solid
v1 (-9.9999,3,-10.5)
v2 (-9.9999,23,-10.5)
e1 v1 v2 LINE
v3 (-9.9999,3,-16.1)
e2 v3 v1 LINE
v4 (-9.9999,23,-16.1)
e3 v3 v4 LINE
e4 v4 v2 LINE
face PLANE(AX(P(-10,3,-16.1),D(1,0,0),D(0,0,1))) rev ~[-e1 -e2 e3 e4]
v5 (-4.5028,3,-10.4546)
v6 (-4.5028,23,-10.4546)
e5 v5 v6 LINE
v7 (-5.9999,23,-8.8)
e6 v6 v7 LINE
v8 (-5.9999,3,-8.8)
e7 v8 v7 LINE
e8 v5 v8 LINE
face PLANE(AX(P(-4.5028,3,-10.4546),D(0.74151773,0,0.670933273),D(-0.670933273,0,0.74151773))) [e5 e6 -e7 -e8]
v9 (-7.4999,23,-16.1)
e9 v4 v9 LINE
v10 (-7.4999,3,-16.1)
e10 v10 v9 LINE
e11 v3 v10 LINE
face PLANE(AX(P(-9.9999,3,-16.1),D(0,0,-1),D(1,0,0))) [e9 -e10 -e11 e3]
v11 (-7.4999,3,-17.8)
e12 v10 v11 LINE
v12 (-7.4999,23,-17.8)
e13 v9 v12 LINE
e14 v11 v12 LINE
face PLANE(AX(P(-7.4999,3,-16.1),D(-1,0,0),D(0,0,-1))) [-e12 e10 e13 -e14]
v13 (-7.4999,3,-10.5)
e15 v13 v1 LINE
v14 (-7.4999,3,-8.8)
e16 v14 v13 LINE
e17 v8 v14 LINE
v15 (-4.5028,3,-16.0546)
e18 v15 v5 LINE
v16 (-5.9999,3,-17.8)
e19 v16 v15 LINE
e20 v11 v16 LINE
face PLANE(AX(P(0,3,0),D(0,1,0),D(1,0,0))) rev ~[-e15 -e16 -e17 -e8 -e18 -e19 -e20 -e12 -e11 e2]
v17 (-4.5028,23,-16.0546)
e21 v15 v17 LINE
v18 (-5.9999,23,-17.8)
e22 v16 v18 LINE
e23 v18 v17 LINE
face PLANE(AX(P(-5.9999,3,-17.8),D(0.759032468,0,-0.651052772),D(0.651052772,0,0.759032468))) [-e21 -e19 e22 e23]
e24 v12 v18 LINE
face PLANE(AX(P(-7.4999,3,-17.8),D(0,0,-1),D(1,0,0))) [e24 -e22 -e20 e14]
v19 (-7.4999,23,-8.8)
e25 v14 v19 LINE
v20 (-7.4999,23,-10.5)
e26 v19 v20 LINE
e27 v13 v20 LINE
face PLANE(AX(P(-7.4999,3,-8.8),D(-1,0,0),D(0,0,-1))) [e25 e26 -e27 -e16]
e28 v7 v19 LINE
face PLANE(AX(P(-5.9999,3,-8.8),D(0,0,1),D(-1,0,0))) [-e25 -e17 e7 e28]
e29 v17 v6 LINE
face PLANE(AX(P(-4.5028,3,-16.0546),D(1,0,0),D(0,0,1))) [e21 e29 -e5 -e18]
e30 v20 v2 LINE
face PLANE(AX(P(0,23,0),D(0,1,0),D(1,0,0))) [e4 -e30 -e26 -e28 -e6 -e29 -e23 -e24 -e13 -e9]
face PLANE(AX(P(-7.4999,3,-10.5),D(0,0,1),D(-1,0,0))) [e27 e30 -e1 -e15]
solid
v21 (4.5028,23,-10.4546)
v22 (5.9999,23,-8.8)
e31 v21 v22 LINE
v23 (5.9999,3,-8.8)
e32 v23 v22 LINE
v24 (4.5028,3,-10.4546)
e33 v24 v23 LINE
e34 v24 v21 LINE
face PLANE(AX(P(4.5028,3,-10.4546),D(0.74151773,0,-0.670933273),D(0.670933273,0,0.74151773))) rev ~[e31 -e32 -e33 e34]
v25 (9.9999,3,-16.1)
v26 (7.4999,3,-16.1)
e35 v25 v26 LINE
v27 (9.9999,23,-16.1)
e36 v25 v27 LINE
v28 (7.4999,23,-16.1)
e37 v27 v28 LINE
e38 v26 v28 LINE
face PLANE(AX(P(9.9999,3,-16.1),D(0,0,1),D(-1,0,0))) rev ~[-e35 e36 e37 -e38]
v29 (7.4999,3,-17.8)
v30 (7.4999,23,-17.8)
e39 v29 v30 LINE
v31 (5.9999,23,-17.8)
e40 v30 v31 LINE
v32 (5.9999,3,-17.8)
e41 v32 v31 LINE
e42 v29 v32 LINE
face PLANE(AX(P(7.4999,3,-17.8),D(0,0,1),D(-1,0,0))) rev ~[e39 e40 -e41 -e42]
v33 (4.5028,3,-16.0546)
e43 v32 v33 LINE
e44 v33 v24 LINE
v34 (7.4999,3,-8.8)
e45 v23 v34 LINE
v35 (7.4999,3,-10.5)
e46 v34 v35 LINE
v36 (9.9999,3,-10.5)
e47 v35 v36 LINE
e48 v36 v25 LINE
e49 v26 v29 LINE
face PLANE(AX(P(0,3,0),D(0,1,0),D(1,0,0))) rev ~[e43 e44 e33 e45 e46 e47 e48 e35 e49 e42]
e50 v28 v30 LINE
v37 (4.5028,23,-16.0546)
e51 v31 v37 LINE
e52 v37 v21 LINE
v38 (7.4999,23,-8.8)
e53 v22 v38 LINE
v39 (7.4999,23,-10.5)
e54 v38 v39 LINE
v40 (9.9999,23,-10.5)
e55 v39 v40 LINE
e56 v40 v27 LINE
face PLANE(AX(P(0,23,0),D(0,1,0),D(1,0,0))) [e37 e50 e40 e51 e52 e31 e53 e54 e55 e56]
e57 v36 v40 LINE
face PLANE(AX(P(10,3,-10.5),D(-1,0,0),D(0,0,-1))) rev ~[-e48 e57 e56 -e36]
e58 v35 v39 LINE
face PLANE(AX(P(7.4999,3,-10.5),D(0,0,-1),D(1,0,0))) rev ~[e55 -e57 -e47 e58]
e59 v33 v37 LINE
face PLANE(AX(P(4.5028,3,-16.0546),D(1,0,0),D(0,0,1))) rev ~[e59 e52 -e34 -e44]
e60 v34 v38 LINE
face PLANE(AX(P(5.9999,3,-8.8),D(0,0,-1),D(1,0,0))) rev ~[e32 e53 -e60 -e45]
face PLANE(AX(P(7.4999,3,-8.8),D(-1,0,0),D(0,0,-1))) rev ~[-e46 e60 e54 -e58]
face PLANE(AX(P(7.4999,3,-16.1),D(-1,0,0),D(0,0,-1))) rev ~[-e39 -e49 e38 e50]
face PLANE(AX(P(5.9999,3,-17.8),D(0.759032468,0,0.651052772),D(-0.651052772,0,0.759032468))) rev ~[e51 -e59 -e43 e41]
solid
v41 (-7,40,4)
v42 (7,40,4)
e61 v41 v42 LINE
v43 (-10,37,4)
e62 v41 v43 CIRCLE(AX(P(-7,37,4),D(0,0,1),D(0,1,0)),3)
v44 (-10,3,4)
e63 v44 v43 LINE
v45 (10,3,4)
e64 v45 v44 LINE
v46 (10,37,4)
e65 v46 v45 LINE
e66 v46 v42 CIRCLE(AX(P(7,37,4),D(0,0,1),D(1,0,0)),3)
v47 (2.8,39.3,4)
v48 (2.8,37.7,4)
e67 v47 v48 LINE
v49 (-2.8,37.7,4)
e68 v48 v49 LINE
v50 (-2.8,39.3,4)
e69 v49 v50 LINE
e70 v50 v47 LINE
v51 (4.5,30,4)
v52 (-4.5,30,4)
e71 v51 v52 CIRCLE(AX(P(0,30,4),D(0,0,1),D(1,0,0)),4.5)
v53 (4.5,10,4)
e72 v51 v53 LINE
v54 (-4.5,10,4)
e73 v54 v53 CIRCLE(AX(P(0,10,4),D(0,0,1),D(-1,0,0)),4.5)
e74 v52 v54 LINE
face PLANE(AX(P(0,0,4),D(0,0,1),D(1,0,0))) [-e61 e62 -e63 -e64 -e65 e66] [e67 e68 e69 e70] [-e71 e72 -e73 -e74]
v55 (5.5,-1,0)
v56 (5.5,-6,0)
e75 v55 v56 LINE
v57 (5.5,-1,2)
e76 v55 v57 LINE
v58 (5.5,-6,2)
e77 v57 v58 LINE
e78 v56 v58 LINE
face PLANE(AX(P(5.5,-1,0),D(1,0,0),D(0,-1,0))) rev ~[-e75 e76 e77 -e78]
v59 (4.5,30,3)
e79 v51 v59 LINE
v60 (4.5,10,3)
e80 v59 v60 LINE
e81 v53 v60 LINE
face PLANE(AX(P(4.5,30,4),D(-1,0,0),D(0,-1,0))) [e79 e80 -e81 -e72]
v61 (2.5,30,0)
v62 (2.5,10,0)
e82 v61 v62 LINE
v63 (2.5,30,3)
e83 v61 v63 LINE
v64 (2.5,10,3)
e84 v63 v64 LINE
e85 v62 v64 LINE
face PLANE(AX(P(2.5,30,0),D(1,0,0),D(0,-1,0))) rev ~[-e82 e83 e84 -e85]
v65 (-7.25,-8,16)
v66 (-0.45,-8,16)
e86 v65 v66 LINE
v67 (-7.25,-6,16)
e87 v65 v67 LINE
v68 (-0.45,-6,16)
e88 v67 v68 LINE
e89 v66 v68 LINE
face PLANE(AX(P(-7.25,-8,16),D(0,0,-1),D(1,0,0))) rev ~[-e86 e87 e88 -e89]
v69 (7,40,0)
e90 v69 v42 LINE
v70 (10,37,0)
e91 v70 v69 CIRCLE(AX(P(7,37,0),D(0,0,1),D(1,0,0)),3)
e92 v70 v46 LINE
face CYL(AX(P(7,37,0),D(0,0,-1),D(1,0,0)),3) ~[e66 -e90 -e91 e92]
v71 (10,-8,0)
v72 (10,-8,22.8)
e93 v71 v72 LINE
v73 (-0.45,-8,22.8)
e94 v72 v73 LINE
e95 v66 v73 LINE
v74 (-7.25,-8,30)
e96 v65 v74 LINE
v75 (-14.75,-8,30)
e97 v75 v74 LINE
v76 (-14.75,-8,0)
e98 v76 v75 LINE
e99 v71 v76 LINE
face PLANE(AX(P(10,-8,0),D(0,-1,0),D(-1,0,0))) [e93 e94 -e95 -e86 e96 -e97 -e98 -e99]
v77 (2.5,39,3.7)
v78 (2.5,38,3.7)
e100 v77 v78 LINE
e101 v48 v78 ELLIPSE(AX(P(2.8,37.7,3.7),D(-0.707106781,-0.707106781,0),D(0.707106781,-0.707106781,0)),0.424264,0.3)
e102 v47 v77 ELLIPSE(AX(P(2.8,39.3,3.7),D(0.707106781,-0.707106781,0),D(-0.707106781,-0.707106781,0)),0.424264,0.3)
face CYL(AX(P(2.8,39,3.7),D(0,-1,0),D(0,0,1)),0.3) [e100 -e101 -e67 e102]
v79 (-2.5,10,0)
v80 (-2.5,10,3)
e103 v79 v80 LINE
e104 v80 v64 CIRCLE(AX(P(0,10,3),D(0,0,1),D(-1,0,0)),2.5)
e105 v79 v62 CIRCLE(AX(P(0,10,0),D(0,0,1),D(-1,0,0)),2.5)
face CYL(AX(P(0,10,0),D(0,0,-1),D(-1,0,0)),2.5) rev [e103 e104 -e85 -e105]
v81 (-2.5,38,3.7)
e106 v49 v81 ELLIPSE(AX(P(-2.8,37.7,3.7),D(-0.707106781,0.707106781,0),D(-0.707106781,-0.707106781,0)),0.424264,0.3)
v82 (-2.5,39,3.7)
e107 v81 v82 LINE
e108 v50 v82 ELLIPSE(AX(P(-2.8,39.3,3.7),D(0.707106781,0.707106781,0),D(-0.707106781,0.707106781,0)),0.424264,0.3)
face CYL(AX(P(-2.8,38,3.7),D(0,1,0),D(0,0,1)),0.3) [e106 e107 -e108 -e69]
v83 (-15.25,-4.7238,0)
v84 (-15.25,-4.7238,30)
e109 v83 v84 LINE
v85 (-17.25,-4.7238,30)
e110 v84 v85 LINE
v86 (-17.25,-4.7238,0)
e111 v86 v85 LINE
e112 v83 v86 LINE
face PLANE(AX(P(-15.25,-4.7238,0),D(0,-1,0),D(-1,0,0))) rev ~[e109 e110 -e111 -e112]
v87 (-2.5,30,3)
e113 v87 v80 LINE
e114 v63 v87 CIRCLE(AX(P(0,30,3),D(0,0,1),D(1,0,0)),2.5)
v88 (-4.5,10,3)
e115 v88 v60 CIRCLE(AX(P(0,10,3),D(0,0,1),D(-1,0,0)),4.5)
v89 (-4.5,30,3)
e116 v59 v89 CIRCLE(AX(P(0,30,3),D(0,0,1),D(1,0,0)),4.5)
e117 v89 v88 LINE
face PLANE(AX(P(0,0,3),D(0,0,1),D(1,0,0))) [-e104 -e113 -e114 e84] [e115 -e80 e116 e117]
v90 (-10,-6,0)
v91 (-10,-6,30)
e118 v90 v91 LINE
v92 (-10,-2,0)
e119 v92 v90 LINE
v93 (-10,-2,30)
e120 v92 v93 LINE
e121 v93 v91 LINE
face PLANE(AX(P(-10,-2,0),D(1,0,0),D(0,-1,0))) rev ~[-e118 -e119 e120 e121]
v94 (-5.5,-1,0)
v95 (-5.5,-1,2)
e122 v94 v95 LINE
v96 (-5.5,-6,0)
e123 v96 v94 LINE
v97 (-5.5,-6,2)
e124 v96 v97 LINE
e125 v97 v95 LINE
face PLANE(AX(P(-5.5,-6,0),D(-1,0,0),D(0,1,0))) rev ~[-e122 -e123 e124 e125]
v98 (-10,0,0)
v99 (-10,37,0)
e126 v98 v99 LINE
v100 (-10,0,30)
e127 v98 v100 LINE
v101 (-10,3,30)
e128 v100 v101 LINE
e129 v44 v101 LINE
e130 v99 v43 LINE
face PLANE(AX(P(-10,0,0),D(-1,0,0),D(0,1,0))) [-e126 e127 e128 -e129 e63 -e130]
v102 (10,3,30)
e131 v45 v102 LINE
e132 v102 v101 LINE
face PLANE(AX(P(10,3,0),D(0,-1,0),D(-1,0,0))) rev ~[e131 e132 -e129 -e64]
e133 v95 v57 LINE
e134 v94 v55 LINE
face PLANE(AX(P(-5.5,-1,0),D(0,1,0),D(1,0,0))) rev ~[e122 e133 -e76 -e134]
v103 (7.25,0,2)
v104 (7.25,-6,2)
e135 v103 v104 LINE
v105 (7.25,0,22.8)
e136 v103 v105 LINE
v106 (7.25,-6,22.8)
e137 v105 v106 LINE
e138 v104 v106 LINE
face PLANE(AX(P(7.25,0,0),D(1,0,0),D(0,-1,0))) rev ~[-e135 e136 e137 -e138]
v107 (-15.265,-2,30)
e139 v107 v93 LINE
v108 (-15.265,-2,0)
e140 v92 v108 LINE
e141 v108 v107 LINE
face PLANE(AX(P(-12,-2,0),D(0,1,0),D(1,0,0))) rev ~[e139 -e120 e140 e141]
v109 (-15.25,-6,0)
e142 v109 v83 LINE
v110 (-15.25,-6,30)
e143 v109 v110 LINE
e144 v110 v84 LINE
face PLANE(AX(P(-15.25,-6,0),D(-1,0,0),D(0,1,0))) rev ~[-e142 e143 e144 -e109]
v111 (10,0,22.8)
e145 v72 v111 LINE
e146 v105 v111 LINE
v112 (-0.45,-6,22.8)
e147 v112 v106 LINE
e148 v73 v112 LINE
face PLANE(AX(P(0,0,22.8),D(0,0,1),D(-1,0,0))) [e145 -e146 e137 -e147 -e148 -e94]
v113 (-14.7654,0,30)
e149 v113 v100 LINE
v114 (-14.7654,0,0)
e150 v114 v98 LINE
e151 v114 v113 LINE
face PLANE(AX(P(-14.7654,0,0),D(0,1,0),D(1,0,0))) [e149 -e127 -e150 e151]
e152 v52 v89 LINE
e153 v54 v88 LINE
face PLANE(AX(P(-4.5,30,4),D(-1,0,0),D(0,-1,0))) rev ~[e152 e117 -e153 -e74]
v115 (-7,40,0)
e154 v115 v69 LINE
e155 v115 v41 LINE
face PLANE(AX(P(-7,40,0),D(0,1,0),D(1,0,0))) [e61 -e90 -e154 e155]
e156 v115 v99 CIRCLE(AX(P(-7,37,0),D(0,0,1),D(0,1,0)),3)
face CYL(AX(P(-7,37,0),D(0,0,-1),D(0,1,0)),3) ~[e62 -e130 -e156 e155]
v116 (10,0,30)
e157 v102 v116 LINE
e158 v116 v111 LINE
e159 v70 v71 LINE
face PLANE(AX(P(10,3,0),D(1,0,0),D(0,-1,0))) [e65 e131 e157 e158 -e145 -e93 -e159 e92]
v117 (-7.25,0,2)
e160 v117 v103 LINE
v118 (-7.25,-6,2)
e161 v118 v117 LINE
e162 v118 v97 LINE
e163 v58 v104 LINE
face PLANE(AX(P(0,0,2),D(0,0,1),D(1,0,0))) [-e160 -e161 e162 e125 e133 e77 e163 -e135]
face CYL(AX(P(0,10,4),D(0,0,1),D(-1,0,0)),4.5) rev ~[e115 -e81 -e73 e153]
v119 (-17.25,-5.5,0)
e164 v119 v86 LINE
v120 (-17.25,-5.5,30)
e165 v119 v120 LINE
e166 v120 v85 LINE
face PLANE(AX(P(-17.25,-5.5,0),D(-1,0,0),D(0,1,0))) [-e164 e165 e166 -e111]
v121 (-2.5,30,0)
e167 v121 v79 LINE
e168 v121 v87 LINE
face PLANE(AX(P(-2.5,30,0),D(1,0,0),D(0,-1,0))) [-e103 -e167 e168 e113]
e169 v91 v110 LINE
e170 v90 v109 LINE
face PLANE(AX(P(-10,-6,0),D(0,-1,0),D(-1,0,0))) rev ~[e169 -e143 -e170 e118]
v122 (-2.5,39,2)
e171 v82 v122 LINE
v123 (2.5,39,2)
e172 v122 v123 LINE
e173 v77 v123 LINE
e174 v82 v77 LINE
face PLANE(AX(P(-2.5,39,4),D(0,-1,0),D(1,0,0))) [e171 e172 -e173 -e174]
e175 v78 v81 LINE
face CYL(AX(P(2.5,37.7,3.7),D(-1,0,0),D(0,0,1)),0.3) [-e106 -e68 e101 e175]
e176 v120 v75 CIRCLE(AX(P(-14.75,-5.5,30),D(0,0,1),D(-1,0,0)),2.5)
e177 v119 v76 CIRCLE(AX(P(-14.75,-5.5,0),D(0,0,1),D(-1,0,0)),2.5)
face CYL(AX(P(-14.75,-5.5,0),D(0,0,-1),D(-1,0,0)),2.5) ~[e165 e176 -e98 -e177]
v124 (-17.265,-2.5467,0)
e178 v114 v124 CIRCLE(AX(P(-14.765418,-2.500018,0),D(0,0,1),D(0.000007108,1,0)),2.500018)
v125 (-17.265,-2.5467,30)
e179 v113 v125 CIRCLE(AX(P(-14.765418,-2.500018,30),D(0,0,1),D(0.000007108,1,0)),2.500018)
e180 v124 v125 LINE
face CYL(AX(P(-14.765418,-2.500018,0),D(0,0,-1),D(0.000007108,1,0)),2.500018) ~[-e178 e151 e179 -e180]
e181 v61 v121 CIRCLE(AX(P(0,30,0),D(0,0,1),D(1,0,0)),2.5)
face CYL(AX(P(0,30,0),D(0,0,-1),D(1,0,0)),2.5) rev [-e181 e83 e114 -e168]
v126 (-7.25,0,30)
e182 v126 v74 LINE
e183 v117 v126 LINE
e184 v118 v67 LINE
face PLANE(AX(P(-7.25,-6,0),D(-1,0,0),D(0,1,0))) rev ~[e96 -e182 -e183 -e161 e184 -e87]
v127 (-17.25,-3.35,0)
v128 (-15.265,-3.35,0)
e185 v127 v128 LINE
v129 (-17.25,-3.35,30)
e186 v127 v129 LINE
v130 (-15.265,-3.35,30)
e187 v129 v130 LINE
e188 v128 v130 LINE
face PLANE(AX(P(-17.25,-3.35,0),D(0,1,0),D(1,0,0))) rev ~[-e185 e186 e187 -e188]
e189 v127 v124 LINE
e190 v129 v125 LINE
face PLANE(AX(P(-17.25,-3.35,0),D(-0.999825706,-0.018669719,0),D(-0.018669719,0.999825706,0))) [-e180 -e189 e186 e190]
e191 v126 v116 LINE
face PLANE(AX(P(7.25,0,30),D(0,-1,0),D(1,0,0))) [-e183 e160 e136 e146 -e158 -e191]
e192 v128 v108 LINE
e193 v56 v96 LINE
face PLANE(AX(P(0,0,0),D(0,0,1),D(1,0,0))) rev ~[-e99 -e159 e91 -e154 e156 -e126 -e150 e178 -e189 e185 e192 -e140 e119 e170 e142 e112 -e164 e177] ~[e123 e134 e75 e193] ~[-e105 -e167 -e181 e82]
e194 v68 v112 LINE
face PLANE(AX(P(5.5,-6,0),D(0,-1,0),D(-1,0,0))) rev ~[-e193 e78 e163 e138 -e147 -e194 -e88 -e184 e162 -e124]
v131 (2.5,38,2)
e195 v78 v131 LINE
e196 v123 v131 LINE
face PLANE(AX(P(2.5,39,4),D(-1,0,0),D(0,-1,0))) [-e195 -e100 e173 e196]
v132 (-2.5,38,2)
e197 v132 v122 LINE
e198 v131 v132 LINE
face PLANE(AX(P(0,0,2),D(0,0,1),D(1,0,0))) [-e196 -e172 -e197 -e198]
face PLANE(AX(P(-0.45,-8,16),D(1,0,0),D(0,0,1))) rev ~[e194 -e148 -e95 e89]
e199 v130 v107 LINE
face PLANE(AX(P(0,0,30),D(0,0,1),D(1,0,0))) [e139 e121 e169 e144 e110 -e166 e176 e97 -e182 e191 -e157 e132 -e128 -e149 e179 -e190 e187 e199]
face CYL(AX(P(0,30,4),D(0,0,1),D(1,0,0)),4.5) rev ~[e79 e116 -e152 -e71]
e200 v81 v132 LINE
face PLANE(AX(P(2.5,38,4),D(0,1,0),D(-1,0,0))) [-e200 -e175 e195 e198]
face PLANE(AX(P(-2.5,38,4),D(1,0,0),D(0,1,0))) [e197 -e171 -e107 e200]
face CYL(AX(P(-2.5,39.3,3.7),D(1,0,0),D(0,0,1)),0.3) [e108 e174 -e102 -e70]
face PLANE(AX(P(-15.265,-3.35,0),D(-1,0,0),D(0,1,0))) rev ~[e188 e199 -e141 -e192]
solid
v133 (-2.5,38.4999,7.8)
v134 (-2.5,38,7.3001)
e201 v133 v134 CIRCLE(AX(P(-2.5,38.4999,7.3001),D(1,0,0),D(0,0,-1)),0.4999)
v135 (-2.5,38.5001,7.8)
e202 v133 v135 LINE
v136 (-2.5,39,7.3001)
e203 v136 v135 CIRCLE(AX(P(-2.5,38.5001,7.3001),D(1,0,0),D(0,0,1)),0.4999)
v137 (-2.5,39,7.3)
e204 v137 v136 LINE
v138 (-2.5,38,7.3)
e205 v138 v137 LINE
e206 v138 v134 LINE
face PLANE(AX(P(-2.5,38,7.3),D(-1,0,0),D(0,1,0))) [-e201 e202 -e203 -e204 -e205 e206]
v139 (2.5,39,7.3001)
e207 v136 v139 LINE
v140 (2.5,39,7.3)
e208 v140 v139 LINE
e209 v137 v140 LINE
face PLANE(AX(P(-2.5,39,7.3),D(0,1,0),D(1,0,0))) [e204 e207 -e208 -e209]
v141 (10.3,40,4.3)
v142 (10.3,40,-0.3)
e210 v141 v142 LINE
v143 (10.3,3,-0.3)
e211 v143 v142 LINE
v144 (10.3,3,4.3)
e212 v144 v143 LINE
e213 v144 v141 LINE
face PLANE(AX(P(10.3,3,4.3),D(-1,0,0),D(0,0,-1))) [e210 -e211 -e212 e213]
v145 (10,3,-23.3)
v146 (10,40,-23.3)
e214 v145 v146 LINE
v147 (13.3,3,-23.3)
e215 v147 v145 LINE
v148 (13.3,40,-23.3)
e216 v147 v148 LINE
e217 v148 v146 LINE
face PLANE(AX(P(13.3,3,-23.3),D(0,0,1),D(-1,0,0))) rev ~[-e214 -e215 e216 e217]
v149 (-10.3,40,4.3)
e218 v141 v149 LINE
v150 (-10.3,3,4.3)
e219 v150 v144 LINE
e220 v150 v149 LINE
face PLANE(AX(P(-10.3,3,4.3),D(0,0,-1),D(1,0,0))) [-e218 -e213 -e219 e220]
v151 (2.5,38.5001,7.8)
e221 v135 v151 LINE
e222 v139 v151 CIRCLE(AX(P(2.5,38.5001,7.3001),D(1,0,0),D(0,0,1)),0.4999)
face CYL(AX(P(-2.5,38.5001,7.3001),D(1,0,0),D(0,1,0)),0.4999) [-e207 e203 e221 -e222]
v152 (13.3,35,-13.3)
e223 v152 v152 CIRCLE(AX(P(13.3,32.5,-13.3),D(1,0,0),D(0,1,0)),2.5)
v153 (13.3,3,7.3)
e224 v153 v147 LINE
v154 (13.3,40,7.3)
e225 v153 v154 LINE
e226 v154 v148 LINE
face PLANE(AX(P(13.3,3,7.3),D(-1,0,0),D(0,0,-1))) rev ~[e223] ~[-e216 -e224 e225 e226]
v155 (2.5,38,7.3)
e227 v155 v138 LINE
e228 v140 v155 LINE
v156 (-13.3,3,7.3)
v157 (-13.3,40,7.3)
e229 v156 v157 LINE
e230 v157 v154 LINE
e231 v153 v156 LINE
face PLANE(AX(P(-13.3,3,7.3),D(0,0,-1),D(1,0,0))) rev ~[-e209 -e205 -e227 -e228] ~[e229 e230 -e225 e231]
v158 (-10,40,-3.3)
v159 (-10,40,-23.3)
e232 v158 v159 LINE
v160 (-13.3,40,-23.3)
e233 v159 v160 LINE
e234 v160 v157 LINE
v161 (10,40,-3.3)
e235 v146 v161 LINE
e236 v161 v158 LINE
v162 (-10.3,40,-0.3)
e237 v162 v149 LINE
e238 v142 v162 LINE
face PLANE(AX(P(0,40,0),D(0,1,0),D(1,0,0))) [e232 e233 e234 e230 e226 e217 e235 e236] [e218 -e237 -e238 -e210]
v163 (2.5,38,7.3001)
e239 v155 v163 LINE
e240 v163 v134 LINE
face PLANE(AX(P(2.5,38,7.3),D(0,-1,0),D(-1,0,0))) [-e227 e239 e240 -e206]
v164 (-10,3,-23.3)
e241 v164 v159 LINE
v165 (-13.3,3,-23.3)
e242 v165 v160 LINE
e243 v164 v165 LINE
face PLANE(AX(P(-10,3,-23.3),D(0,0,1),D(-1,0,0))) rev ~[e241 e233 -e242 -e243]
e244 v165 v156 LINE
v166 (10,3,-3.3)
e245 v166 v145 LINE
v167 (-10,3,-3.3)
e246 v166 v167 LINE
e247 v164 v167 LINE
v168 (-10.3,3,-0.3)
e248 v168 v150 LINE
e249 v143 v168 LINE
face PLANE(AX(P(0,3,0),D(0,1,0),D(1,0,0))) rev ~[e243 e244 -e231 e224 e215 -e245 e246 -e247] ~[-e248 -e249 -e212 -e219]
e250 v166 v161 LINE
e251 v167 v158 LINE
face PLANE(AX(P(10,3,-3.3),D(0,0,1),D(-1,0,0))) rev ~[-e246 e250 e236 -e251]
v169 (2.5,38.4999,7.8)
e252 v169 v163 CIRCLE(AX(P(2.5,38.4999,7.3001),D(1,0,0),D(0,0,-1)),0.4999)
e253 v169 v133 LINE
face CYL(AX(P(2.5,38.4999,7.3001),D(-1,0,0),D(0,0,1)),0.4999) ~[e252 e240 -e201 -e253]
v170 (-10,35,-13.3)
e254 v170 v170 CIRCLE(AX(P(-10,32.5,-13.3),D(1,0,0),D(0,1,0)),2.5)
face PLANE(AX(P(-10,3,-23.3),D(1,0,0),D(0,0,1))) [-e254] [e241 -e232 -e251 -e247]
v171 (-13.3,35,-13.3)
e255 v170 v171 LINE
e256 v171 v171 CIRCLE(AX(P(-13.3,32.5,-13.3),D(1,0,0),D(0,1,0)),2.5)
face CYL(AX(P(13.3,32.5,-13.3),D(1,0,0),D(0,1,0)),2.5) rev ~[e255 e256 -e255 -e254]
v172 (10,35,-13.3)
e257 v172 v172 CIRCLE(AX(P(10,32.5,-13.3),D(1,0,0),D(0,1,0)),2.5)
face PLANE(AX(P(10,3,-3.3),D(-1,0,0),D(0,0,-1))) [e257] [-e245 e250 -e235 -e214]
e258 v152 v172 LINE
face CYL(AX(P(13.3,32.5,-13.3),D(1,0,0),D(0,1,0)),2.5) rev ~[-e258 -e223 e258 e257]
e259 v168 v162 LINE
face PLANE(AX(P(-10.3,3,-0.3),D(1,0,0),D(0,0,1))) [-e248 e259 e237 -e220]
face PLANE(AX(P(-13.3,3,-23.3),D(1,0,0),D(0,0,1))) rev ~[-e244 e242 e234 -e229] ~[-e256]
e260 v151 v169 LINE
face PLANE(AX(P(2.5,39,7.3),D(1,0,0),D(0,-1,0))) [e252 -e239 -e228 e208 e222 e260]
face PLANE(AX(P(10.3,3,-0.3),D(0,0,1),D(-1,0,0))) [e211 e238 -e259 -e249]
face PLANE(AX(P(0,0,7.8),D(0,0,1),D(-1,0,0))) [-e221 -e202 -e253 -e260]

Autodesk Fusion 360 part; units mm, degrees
sketch "Esquisse1" plane through (0, 0, 0) normal (0, 0, 1) x (1, 0, 0)
  line L0 (0, 80) -> (0, -6.3898) construction
  line L1 (-15, 30) -> (6, 30) construction
  line L2 (-7.25, 0) -> (7.25, 0)
  line L3 (7.25, 0) -> (7.25, -6)
  line L4 (-7.25, -6) -> (-7.25, 0)
  line L5 (-5.5, -1) -> (5.5, -1)
  line L6 (5.5, -1) -> (5.5, -6)
  line L7 (5.5, -6) -> (-5.5, -6)
  line L8 (-5.5, -6) -> (-5.5, -1)
  line L9 (5.5, -6) -> (7.25, -6)
  line L10 (7.25, -6) -> (-5.5, -6)
  line L11 (-7.25, -6) -> (-5.5, -6)
  line L12 (-10, 0) -> (-10, 37)
  line L13 (-7, 40) -> (7, 40)
  arc A0 (4.5, 30) -> (-4.5, 30) centre (0, 30) ccw
  arc A1 (2.5, 30) -> (-2.5, 30) centre (0, 30) ccw
  line L14 (-13, 20) -> (15, 20) construction
  line L15 (-13, 10) -> (15, 10) construction
  arc A2 (-4.5, 10) -> (4.5, 10) centre (0, 10) ccw
  arc A3 (-2.5, 10) -> (2.5, 10) centre (0, 10) ccw
  line L16 (-4.5, 30) -> (-4.5, 10)
  line L17 (-2.5, 30) -> (-2.5, 10)
  line L18 (2.5, 30) -> (2.5, 10)
  line L19 (4.5, 30) -> (4.5, 10)
  line L20 (-19.75, -1.5) -> (-19.75, -9) construction
  line L21 (-15.265, -2) -> (-12, -2)
  line L22 (-10, -8) -> (-14.75, -8)
  line L23 (-14.7654, 0) -> (-10, 0)
  line L24 (-17.25, -3.35) -> (-15.265, -3.35)
  line L25 (-15.25, -4.7238) -> (-17.25, -4.7238)
  line L26 (-15.265, -3.35) -> (-15.265, -2)
  line L27 (-17.25, -5.5) -> (-17.25, -4.7238)
  line L28 (-17.25, -3.35) -> (-17.265, -2.5467)
  arc A4 (-14.7654, 0) -> (-17.265, -2.5467) centre (-14.7654, -2.5) ccw
  arc A5 (-17.25, -5.5) -> (-14.75, -8) centre (-14.75, -5.5) ccw
  line L29 (-12, -2) -> (-10, -2)
  line L30 (-10, -2) -> (-10, -6)
  line L31 (-10, -6) -> (-15.25, -6)
  line L32 (-15.25, -6) -> (-15.25, -4.7238)
  line L33 (-13, -4.0369) -> (-21, -4.0369) construction
  line L34 (10, -8) -> (-10, -8)
  line L35 (10, 37) -> (10, -8)
  line L36 (10, 3) -> (-10, 3)
  arc A6 (-7, 40) -> (-10, 37) centre (-7, 37) ccw
  arc A7 (10, 37) -> (7, 40) centre (7, 37) ccw
  line L37 (-2.5, 39) -> (2.5, 39)
  line L38 (2.5, 39) -> (2.5, 38)
  line L39 (2.5, 38) -> (-2.5, 38)
  line L40 (-2.5, 38) -> (-2.5, 39)
  dimension "d49" = 11
  dimension "d50" = 5
  dimension "d51" = 1
  dimension "d52" = 14.5
  dimension "d67" = 30
  dimension "d68" = 5
  dimension "d86" = 10
  dimension "d87" = 2
  dimension "d100" = 2.5
  dimension "d101" = 2.5
  dimension "d108" = 2
  dimension "d109" = 2
  dimension "d111" = 1.3738
  dimension "d112" = 2
  dimension "d113" = 2
  dimension "d114" = 5.25
  dimension "d115" = 4
  dimension "d117" = 1.2762
  dimension "d132" = 2
  dimension "d133" = 5.265
  dimension "d135" = 48
  dimension "d136" = 20
  dimension "d137" = 2.75
  dimension "d140" = 3
  dimension "d153" = 3
  dimension "d154" = 1
  dimension "d155" = 1
  dimension "d156" = 5
extrude "Extrusion18" add sketch "Esquisse1" along normal blind 2 contours L2 L3 L4 L5 L6 L8 L9 L10 L11 makes body 1
extrude "Extrusion19" add sketch "Esquisse1" along normal blind 4 separate body contours L12 L13 L35 L36 A6 A7 | A0 A2 L16 L19 | L37 L38 L39 L40 makes body 2
extrude "Extrusion20" add sketch "Esquisse1" along normal blind 30 contours L12 L21 L22 L23 L24 L25 L26 L27 L28 A4 A5 L29 L30 L31 L32 L34 L35 L36 bodies 1 2
sketch "Esquisse11" plane through (0, -8, 0) normal (0, -1, 0) x (1, 0, 0)
  line L0 (-10, 0) -> (10, 0)
  line L1 (10, 0) -> (10, 30)
  line L2 (10, 30) -> (-10, 30)
  line L3 (-10, 30) -> (-10, 0)
  line L4 (7.25, 2) -> (7.25, 30)
  line L5 (-7.25, 2) -> (-7.25, 30)
  line L6 (-7.25, 30) -> (-7.25, 16)
  line L7 (-0.45, 16) -> (-0.45, 22.8)
  line L8 (-0.45, 22.8) -> (7.25, 22.8)
  line L9 (-7.25, 16) -> (-0.45, 16)
  dimension "d145" = 6.8
  dimension "d146" = 6.8
  dimension "d147" = 16
extrude "Extrusion21" cut sketch "Esquisse11" against normal up to surface (2 mm away) contours L2 L4 L5 L6 L7 L8 L9 bodies 1
extrude "Extrusion22" cut sketch "Esquisse1" against normal blind 1 from surface at 4 contours A0 A2 L16 L19 bodies 1
copy_body "Corps->Comp1" bodies 1 removing the originals makes body 3 in component "IR_Support"
extrude "Extrusion1" cut sketch "Esquisse1" against normal blind 2 from surface at 4 contours L37 L38 L39 L40 bodies 3 in component "IR_Support"
fillet "Congé1" radius 0.3 4 edges at (2.5, 38.5, 4) (0, 38, 4) (-2.5, 38.5, 4) (0, 39, 4) on bodies 3 in component "IR_Support"
ref_plane "Plan de construction1" through (0, 3, 0) normal (0, 1, 0) x (0, 0, 1) in component "Frame_Support"
sketch "Esquisse1 (2)" plane through (0, 3, 0) normal (0, 1, 0) x (1, 0, 0) in component "Frame_Support"
  line L0 (-10, -4) -> (10, -4)
  line L1 (10, -4) -> (10, 0)
  line L2 (10, 0) -> (-10, 0)
  line L3 (-10, 0) -> (-10, -4)
  line L4 (-10.3, -4.3) -> (10.3, -4.3)
  line L5 (10.3, -4.3) -> (10.3, 0.3)
  line L6 (10.3, 0.3) -> (-10.3, 0.3)
  line L7 (-10.3, 0.3) -> (-10.3, -4.3)
  line L8 (-13.3, -7.3) -> (13.3, -7.3)
  line L9 (13.3, -7.3) -> (13.3, 23.3)
  line L10 (-13.3, 23.3) -> (-13.3, -7.3)
  line L11 (0, -1.75) -> (0, -22.5)
  line L12 (10, 3.3) -> (-10, 3.3)
  line L13 (-10, 23.3) -> (-10, 3.3)
  line L14 (10, 3.3) -> (10, 23.3)
  line L15 (13.3, 23.3) -> (10, 23.3)
  line L16 (-10, 23.3) -> (-13.3, 23.3)
  line L17 (-15, 13.3) -> (16, 13.3) construction
  line L18 (-5.9999, 8.8) -> (-7.4999, 8.8)
  line L19 (-7.4999, 8.8) -> (-7.4999, 10.5)
  line L20 (-7.4999, 10.5) -> (-9.9999, 10.5)
  line L21 (-9.9999, 10.5) -> (-9.9999, 16.1)
  line L22 (-9.9999, 16.1) -> (-7.4999, 16.1)
  line L23 (-7.4999, 16.1) -> (-7.4999, 17.8)
  line L24 (-7.4999, 17.8) -> (-5.9999, 17.8)
  line L25 (-5.9999, 17.8) -> (-4.5028, 16.0546)
  line L26 (-4.5028, 16.0546) -> (-4.5028, 10.4546)
  line L27 (-4.5028, 10.4546) -> (-5.9999, 8.8)
  line L28 (5.9999, 8.8) -> (7.4999, 8.8)
  line L29 (7.4999, 8.8) -> (7.4999, 10.5)
  line L30 (7.4999, 10.5) -> (9.9999, 10.5)
  line L31 (9.9999, 10.5) -> (9.9999, 16.1)
  line L32 (9.9999, 16.1) -> (7.4999, 16.1)
  line L33 (7.4999, 16.1) -> (7.4999, 17.8)
  line L34 (7.4999, 17.8) -> (5.9999, 17.8)
  line L35 (5.9999, 17.8) -> (4.5028, 16.0546)
  line L36 (4.5028, 10.4546) -> (5.9999, 8.8)
  line L37 (4.5028, 16.0546) -> (4.5028, 10.4546)
  dimension "d163" = 20
  dimension "d164" = 4
  dimension "d165" = 0.3
  dimension "d166" = 3
  dimension "d167" = 3
  dimension "d168" = 3
  dimension "d169" = 20
  dimension "d170" = 20
  dimension "d171" = 3.3
  dimension "d17" = 2.5
  dimension "d18" = 2.5
  dimension "d19" = 1.5
  dimension "d20" = 1.5
  dimension "d21" = 5.6
  dimension "d22" = 9
  dimension "d23" = 5.6
  dimension "d26" = 1.7
extrude "Extrusion1'" add sketch "Esquisse1 (2)" along normal blind 37 separate body contours L8 L9 L10 L12 L13 L14 L15 L16 L21 L31 makes body 4 in component "Frame_Support"
extrude "Extrusion2" add sketch "Esquisse1 (2)" along normal blind 20 separate body contours L13 L18 L19 L20 L21 L22 L23 L24 L25 L26 L27 | L14 L28 L29 L30 L31 L32 L33 L34 L35 L36 L37 makes body 5 at (-4.5028, 9.6667, -14.188) makes body 6 at (4.5028, 9.6667, -14.188) in component "Frame_Support"
sketch "Esquisse2" plane through (13.3, 0, 0) normal (1, 0, 0) x (0, 1, 0) in component "Frame_Support"
  line L0 (3, 7.3) -> (3, -23.3)
  line L1 (3, -23.3) -> (40, -23.3)
  line L2 (40, -23.3) -> (40, 7.3)
  line L3 (40, 7.3) -> (3, 7.3)
  line L4 (45, -13.3) -> (20, -13.3) construction
  line L5 (32.5, -5) -> (32.5, -27.6162) construction
  circle A0 centre (32.5, -13.3) radius 2.5
  dimension "d184" = 10
  dimension "d185" = 7.5
  dimension "d186" = 5
extrude "Extrusion3" cut sketch "Esquisse2" against normal up to surface (26.6 mm away) contours A0 bodies 4 in component "Frame_Support"
sketch "Esquisse3" plane through (0, 0, 7.3) normal (0, 0, 1) x (-1, 0, 0) in component "Frame_Support"
  line L0 (13.3, -3) -> (-13.3, -3)
  line L1 (-13.3, -3) -> (-13.3, -40)
  line L2 (-13.3, -40) -> (13.3, -40)
  line L3 (13.3, -40) -> (13.3, -3)
  line L4 (20, -38.5) -> (-20, -38.5) construction
  line L5 (2.5, -39) -> (-2.5, -39)
  line L6 (-2.5, -39) -> (-2.5, -38)
  line L7 (-2.5, -38) -> (2.5, -38)
  line L8 (2.5, -38) -> (2.5, -39)
  line L9 (0, -42) -> (0, -32) construction
  line L10 (-13.3, -40) -> (-13.3, -3)
  dimension "d190" = 5
  dimension "d191" = 1
  dimension "d192" = 1
extrude "Extrusion4" add sketch "Esquisse3" along normal blind 0.5 contours L5 L6 L7 L8 bodies 4 in component "Frame_Support"
fillet "Congé1'" radius 0.5 2 edges at (0, 38, 7.8) (0, 39, 7.8) on bodies 4 in component "Frame_Support"
sketch "Esquisse3 (2)" plane through (0, 0, 30) normal (0, 0, 1) x (-1, 0, 0) in component "IR_Support"
  line L0 (-7.25, 6) -> (-7.25, 8)
  line L1 (-7.25, 8) -> (-10, 8)
  line L2 (-10, 8) -> (-10, -3)
  line L3 (-10, -3) -> (10, -3)
  line L4 (10, -3) -> (10, 0)
  line L5 (10, 0) -> (14.7654, 0)
  arc A0 (14.7654, 0) -> (17.265, 2.5467) centre (14.7654, 2.5) ccw
  line L6 (17.265, 2.5467) -> (17.25, 3.35)
  line L7 (17.25, 3.35) -> (15.265, 3.35)
  line L8 (15.265, 3.35) -> (15.265, 2)
  line L9 (15.265, 2) -> (10, 2)
  line L10 (10, 2) -> (10, 6)
  line L11 (10, 6) -> (15.25, 6)
  line L12 (15.25, 6) -> (15.25, 4.7238)
  line L13 (15.25, 4.7238) -> (17.25, 4.7238)
  line L14 (17.25, 4.7238) -> (17.25, 5.5)
  arc A1 (17.25, 5.5) -> (14.75, 8) centre (14.75, 5.5) ccw
  line L15 (14.75, 8) -> (10, 8)
  line L16 (10, 8) -> (7.25, 8)
  line L17 (7.25, 8) -> (7.25, 6)
  line L18 (7.25, 6) -> (7.25, 0)
  line L19 (7.25, 0) -> (-7.25, 0)
  line L20 (-7.25, 0) -> (-7.25, 6)
  line L21 (-7.25, 0) -> (-10, 0)
  line L22 (-10, 0) -> (-10, 8)
  line L23 (-10, 8) -> (-7.25, 8)
  line L24 (-7.25, 8) -> (-7.25, 0)
  point P0 (-7.25, 8)
extrude "Extrusion2'" cut sketch "Esquisse3 (2)" against normal blind 7.2 contours L0 L1 L2 L20 L21 L22 L23 L24 bodies 3 in component "IR_Support"
component "IR_Support" placed x (1, 0, 0) y (0, 1, 0) z (0, 0, 1) at (0, 0, 0)
component "Frame_Support" placed x (1, 0, 0) y (0, 1, 0) z (0, 0, 1) at (0, 0, 0)
